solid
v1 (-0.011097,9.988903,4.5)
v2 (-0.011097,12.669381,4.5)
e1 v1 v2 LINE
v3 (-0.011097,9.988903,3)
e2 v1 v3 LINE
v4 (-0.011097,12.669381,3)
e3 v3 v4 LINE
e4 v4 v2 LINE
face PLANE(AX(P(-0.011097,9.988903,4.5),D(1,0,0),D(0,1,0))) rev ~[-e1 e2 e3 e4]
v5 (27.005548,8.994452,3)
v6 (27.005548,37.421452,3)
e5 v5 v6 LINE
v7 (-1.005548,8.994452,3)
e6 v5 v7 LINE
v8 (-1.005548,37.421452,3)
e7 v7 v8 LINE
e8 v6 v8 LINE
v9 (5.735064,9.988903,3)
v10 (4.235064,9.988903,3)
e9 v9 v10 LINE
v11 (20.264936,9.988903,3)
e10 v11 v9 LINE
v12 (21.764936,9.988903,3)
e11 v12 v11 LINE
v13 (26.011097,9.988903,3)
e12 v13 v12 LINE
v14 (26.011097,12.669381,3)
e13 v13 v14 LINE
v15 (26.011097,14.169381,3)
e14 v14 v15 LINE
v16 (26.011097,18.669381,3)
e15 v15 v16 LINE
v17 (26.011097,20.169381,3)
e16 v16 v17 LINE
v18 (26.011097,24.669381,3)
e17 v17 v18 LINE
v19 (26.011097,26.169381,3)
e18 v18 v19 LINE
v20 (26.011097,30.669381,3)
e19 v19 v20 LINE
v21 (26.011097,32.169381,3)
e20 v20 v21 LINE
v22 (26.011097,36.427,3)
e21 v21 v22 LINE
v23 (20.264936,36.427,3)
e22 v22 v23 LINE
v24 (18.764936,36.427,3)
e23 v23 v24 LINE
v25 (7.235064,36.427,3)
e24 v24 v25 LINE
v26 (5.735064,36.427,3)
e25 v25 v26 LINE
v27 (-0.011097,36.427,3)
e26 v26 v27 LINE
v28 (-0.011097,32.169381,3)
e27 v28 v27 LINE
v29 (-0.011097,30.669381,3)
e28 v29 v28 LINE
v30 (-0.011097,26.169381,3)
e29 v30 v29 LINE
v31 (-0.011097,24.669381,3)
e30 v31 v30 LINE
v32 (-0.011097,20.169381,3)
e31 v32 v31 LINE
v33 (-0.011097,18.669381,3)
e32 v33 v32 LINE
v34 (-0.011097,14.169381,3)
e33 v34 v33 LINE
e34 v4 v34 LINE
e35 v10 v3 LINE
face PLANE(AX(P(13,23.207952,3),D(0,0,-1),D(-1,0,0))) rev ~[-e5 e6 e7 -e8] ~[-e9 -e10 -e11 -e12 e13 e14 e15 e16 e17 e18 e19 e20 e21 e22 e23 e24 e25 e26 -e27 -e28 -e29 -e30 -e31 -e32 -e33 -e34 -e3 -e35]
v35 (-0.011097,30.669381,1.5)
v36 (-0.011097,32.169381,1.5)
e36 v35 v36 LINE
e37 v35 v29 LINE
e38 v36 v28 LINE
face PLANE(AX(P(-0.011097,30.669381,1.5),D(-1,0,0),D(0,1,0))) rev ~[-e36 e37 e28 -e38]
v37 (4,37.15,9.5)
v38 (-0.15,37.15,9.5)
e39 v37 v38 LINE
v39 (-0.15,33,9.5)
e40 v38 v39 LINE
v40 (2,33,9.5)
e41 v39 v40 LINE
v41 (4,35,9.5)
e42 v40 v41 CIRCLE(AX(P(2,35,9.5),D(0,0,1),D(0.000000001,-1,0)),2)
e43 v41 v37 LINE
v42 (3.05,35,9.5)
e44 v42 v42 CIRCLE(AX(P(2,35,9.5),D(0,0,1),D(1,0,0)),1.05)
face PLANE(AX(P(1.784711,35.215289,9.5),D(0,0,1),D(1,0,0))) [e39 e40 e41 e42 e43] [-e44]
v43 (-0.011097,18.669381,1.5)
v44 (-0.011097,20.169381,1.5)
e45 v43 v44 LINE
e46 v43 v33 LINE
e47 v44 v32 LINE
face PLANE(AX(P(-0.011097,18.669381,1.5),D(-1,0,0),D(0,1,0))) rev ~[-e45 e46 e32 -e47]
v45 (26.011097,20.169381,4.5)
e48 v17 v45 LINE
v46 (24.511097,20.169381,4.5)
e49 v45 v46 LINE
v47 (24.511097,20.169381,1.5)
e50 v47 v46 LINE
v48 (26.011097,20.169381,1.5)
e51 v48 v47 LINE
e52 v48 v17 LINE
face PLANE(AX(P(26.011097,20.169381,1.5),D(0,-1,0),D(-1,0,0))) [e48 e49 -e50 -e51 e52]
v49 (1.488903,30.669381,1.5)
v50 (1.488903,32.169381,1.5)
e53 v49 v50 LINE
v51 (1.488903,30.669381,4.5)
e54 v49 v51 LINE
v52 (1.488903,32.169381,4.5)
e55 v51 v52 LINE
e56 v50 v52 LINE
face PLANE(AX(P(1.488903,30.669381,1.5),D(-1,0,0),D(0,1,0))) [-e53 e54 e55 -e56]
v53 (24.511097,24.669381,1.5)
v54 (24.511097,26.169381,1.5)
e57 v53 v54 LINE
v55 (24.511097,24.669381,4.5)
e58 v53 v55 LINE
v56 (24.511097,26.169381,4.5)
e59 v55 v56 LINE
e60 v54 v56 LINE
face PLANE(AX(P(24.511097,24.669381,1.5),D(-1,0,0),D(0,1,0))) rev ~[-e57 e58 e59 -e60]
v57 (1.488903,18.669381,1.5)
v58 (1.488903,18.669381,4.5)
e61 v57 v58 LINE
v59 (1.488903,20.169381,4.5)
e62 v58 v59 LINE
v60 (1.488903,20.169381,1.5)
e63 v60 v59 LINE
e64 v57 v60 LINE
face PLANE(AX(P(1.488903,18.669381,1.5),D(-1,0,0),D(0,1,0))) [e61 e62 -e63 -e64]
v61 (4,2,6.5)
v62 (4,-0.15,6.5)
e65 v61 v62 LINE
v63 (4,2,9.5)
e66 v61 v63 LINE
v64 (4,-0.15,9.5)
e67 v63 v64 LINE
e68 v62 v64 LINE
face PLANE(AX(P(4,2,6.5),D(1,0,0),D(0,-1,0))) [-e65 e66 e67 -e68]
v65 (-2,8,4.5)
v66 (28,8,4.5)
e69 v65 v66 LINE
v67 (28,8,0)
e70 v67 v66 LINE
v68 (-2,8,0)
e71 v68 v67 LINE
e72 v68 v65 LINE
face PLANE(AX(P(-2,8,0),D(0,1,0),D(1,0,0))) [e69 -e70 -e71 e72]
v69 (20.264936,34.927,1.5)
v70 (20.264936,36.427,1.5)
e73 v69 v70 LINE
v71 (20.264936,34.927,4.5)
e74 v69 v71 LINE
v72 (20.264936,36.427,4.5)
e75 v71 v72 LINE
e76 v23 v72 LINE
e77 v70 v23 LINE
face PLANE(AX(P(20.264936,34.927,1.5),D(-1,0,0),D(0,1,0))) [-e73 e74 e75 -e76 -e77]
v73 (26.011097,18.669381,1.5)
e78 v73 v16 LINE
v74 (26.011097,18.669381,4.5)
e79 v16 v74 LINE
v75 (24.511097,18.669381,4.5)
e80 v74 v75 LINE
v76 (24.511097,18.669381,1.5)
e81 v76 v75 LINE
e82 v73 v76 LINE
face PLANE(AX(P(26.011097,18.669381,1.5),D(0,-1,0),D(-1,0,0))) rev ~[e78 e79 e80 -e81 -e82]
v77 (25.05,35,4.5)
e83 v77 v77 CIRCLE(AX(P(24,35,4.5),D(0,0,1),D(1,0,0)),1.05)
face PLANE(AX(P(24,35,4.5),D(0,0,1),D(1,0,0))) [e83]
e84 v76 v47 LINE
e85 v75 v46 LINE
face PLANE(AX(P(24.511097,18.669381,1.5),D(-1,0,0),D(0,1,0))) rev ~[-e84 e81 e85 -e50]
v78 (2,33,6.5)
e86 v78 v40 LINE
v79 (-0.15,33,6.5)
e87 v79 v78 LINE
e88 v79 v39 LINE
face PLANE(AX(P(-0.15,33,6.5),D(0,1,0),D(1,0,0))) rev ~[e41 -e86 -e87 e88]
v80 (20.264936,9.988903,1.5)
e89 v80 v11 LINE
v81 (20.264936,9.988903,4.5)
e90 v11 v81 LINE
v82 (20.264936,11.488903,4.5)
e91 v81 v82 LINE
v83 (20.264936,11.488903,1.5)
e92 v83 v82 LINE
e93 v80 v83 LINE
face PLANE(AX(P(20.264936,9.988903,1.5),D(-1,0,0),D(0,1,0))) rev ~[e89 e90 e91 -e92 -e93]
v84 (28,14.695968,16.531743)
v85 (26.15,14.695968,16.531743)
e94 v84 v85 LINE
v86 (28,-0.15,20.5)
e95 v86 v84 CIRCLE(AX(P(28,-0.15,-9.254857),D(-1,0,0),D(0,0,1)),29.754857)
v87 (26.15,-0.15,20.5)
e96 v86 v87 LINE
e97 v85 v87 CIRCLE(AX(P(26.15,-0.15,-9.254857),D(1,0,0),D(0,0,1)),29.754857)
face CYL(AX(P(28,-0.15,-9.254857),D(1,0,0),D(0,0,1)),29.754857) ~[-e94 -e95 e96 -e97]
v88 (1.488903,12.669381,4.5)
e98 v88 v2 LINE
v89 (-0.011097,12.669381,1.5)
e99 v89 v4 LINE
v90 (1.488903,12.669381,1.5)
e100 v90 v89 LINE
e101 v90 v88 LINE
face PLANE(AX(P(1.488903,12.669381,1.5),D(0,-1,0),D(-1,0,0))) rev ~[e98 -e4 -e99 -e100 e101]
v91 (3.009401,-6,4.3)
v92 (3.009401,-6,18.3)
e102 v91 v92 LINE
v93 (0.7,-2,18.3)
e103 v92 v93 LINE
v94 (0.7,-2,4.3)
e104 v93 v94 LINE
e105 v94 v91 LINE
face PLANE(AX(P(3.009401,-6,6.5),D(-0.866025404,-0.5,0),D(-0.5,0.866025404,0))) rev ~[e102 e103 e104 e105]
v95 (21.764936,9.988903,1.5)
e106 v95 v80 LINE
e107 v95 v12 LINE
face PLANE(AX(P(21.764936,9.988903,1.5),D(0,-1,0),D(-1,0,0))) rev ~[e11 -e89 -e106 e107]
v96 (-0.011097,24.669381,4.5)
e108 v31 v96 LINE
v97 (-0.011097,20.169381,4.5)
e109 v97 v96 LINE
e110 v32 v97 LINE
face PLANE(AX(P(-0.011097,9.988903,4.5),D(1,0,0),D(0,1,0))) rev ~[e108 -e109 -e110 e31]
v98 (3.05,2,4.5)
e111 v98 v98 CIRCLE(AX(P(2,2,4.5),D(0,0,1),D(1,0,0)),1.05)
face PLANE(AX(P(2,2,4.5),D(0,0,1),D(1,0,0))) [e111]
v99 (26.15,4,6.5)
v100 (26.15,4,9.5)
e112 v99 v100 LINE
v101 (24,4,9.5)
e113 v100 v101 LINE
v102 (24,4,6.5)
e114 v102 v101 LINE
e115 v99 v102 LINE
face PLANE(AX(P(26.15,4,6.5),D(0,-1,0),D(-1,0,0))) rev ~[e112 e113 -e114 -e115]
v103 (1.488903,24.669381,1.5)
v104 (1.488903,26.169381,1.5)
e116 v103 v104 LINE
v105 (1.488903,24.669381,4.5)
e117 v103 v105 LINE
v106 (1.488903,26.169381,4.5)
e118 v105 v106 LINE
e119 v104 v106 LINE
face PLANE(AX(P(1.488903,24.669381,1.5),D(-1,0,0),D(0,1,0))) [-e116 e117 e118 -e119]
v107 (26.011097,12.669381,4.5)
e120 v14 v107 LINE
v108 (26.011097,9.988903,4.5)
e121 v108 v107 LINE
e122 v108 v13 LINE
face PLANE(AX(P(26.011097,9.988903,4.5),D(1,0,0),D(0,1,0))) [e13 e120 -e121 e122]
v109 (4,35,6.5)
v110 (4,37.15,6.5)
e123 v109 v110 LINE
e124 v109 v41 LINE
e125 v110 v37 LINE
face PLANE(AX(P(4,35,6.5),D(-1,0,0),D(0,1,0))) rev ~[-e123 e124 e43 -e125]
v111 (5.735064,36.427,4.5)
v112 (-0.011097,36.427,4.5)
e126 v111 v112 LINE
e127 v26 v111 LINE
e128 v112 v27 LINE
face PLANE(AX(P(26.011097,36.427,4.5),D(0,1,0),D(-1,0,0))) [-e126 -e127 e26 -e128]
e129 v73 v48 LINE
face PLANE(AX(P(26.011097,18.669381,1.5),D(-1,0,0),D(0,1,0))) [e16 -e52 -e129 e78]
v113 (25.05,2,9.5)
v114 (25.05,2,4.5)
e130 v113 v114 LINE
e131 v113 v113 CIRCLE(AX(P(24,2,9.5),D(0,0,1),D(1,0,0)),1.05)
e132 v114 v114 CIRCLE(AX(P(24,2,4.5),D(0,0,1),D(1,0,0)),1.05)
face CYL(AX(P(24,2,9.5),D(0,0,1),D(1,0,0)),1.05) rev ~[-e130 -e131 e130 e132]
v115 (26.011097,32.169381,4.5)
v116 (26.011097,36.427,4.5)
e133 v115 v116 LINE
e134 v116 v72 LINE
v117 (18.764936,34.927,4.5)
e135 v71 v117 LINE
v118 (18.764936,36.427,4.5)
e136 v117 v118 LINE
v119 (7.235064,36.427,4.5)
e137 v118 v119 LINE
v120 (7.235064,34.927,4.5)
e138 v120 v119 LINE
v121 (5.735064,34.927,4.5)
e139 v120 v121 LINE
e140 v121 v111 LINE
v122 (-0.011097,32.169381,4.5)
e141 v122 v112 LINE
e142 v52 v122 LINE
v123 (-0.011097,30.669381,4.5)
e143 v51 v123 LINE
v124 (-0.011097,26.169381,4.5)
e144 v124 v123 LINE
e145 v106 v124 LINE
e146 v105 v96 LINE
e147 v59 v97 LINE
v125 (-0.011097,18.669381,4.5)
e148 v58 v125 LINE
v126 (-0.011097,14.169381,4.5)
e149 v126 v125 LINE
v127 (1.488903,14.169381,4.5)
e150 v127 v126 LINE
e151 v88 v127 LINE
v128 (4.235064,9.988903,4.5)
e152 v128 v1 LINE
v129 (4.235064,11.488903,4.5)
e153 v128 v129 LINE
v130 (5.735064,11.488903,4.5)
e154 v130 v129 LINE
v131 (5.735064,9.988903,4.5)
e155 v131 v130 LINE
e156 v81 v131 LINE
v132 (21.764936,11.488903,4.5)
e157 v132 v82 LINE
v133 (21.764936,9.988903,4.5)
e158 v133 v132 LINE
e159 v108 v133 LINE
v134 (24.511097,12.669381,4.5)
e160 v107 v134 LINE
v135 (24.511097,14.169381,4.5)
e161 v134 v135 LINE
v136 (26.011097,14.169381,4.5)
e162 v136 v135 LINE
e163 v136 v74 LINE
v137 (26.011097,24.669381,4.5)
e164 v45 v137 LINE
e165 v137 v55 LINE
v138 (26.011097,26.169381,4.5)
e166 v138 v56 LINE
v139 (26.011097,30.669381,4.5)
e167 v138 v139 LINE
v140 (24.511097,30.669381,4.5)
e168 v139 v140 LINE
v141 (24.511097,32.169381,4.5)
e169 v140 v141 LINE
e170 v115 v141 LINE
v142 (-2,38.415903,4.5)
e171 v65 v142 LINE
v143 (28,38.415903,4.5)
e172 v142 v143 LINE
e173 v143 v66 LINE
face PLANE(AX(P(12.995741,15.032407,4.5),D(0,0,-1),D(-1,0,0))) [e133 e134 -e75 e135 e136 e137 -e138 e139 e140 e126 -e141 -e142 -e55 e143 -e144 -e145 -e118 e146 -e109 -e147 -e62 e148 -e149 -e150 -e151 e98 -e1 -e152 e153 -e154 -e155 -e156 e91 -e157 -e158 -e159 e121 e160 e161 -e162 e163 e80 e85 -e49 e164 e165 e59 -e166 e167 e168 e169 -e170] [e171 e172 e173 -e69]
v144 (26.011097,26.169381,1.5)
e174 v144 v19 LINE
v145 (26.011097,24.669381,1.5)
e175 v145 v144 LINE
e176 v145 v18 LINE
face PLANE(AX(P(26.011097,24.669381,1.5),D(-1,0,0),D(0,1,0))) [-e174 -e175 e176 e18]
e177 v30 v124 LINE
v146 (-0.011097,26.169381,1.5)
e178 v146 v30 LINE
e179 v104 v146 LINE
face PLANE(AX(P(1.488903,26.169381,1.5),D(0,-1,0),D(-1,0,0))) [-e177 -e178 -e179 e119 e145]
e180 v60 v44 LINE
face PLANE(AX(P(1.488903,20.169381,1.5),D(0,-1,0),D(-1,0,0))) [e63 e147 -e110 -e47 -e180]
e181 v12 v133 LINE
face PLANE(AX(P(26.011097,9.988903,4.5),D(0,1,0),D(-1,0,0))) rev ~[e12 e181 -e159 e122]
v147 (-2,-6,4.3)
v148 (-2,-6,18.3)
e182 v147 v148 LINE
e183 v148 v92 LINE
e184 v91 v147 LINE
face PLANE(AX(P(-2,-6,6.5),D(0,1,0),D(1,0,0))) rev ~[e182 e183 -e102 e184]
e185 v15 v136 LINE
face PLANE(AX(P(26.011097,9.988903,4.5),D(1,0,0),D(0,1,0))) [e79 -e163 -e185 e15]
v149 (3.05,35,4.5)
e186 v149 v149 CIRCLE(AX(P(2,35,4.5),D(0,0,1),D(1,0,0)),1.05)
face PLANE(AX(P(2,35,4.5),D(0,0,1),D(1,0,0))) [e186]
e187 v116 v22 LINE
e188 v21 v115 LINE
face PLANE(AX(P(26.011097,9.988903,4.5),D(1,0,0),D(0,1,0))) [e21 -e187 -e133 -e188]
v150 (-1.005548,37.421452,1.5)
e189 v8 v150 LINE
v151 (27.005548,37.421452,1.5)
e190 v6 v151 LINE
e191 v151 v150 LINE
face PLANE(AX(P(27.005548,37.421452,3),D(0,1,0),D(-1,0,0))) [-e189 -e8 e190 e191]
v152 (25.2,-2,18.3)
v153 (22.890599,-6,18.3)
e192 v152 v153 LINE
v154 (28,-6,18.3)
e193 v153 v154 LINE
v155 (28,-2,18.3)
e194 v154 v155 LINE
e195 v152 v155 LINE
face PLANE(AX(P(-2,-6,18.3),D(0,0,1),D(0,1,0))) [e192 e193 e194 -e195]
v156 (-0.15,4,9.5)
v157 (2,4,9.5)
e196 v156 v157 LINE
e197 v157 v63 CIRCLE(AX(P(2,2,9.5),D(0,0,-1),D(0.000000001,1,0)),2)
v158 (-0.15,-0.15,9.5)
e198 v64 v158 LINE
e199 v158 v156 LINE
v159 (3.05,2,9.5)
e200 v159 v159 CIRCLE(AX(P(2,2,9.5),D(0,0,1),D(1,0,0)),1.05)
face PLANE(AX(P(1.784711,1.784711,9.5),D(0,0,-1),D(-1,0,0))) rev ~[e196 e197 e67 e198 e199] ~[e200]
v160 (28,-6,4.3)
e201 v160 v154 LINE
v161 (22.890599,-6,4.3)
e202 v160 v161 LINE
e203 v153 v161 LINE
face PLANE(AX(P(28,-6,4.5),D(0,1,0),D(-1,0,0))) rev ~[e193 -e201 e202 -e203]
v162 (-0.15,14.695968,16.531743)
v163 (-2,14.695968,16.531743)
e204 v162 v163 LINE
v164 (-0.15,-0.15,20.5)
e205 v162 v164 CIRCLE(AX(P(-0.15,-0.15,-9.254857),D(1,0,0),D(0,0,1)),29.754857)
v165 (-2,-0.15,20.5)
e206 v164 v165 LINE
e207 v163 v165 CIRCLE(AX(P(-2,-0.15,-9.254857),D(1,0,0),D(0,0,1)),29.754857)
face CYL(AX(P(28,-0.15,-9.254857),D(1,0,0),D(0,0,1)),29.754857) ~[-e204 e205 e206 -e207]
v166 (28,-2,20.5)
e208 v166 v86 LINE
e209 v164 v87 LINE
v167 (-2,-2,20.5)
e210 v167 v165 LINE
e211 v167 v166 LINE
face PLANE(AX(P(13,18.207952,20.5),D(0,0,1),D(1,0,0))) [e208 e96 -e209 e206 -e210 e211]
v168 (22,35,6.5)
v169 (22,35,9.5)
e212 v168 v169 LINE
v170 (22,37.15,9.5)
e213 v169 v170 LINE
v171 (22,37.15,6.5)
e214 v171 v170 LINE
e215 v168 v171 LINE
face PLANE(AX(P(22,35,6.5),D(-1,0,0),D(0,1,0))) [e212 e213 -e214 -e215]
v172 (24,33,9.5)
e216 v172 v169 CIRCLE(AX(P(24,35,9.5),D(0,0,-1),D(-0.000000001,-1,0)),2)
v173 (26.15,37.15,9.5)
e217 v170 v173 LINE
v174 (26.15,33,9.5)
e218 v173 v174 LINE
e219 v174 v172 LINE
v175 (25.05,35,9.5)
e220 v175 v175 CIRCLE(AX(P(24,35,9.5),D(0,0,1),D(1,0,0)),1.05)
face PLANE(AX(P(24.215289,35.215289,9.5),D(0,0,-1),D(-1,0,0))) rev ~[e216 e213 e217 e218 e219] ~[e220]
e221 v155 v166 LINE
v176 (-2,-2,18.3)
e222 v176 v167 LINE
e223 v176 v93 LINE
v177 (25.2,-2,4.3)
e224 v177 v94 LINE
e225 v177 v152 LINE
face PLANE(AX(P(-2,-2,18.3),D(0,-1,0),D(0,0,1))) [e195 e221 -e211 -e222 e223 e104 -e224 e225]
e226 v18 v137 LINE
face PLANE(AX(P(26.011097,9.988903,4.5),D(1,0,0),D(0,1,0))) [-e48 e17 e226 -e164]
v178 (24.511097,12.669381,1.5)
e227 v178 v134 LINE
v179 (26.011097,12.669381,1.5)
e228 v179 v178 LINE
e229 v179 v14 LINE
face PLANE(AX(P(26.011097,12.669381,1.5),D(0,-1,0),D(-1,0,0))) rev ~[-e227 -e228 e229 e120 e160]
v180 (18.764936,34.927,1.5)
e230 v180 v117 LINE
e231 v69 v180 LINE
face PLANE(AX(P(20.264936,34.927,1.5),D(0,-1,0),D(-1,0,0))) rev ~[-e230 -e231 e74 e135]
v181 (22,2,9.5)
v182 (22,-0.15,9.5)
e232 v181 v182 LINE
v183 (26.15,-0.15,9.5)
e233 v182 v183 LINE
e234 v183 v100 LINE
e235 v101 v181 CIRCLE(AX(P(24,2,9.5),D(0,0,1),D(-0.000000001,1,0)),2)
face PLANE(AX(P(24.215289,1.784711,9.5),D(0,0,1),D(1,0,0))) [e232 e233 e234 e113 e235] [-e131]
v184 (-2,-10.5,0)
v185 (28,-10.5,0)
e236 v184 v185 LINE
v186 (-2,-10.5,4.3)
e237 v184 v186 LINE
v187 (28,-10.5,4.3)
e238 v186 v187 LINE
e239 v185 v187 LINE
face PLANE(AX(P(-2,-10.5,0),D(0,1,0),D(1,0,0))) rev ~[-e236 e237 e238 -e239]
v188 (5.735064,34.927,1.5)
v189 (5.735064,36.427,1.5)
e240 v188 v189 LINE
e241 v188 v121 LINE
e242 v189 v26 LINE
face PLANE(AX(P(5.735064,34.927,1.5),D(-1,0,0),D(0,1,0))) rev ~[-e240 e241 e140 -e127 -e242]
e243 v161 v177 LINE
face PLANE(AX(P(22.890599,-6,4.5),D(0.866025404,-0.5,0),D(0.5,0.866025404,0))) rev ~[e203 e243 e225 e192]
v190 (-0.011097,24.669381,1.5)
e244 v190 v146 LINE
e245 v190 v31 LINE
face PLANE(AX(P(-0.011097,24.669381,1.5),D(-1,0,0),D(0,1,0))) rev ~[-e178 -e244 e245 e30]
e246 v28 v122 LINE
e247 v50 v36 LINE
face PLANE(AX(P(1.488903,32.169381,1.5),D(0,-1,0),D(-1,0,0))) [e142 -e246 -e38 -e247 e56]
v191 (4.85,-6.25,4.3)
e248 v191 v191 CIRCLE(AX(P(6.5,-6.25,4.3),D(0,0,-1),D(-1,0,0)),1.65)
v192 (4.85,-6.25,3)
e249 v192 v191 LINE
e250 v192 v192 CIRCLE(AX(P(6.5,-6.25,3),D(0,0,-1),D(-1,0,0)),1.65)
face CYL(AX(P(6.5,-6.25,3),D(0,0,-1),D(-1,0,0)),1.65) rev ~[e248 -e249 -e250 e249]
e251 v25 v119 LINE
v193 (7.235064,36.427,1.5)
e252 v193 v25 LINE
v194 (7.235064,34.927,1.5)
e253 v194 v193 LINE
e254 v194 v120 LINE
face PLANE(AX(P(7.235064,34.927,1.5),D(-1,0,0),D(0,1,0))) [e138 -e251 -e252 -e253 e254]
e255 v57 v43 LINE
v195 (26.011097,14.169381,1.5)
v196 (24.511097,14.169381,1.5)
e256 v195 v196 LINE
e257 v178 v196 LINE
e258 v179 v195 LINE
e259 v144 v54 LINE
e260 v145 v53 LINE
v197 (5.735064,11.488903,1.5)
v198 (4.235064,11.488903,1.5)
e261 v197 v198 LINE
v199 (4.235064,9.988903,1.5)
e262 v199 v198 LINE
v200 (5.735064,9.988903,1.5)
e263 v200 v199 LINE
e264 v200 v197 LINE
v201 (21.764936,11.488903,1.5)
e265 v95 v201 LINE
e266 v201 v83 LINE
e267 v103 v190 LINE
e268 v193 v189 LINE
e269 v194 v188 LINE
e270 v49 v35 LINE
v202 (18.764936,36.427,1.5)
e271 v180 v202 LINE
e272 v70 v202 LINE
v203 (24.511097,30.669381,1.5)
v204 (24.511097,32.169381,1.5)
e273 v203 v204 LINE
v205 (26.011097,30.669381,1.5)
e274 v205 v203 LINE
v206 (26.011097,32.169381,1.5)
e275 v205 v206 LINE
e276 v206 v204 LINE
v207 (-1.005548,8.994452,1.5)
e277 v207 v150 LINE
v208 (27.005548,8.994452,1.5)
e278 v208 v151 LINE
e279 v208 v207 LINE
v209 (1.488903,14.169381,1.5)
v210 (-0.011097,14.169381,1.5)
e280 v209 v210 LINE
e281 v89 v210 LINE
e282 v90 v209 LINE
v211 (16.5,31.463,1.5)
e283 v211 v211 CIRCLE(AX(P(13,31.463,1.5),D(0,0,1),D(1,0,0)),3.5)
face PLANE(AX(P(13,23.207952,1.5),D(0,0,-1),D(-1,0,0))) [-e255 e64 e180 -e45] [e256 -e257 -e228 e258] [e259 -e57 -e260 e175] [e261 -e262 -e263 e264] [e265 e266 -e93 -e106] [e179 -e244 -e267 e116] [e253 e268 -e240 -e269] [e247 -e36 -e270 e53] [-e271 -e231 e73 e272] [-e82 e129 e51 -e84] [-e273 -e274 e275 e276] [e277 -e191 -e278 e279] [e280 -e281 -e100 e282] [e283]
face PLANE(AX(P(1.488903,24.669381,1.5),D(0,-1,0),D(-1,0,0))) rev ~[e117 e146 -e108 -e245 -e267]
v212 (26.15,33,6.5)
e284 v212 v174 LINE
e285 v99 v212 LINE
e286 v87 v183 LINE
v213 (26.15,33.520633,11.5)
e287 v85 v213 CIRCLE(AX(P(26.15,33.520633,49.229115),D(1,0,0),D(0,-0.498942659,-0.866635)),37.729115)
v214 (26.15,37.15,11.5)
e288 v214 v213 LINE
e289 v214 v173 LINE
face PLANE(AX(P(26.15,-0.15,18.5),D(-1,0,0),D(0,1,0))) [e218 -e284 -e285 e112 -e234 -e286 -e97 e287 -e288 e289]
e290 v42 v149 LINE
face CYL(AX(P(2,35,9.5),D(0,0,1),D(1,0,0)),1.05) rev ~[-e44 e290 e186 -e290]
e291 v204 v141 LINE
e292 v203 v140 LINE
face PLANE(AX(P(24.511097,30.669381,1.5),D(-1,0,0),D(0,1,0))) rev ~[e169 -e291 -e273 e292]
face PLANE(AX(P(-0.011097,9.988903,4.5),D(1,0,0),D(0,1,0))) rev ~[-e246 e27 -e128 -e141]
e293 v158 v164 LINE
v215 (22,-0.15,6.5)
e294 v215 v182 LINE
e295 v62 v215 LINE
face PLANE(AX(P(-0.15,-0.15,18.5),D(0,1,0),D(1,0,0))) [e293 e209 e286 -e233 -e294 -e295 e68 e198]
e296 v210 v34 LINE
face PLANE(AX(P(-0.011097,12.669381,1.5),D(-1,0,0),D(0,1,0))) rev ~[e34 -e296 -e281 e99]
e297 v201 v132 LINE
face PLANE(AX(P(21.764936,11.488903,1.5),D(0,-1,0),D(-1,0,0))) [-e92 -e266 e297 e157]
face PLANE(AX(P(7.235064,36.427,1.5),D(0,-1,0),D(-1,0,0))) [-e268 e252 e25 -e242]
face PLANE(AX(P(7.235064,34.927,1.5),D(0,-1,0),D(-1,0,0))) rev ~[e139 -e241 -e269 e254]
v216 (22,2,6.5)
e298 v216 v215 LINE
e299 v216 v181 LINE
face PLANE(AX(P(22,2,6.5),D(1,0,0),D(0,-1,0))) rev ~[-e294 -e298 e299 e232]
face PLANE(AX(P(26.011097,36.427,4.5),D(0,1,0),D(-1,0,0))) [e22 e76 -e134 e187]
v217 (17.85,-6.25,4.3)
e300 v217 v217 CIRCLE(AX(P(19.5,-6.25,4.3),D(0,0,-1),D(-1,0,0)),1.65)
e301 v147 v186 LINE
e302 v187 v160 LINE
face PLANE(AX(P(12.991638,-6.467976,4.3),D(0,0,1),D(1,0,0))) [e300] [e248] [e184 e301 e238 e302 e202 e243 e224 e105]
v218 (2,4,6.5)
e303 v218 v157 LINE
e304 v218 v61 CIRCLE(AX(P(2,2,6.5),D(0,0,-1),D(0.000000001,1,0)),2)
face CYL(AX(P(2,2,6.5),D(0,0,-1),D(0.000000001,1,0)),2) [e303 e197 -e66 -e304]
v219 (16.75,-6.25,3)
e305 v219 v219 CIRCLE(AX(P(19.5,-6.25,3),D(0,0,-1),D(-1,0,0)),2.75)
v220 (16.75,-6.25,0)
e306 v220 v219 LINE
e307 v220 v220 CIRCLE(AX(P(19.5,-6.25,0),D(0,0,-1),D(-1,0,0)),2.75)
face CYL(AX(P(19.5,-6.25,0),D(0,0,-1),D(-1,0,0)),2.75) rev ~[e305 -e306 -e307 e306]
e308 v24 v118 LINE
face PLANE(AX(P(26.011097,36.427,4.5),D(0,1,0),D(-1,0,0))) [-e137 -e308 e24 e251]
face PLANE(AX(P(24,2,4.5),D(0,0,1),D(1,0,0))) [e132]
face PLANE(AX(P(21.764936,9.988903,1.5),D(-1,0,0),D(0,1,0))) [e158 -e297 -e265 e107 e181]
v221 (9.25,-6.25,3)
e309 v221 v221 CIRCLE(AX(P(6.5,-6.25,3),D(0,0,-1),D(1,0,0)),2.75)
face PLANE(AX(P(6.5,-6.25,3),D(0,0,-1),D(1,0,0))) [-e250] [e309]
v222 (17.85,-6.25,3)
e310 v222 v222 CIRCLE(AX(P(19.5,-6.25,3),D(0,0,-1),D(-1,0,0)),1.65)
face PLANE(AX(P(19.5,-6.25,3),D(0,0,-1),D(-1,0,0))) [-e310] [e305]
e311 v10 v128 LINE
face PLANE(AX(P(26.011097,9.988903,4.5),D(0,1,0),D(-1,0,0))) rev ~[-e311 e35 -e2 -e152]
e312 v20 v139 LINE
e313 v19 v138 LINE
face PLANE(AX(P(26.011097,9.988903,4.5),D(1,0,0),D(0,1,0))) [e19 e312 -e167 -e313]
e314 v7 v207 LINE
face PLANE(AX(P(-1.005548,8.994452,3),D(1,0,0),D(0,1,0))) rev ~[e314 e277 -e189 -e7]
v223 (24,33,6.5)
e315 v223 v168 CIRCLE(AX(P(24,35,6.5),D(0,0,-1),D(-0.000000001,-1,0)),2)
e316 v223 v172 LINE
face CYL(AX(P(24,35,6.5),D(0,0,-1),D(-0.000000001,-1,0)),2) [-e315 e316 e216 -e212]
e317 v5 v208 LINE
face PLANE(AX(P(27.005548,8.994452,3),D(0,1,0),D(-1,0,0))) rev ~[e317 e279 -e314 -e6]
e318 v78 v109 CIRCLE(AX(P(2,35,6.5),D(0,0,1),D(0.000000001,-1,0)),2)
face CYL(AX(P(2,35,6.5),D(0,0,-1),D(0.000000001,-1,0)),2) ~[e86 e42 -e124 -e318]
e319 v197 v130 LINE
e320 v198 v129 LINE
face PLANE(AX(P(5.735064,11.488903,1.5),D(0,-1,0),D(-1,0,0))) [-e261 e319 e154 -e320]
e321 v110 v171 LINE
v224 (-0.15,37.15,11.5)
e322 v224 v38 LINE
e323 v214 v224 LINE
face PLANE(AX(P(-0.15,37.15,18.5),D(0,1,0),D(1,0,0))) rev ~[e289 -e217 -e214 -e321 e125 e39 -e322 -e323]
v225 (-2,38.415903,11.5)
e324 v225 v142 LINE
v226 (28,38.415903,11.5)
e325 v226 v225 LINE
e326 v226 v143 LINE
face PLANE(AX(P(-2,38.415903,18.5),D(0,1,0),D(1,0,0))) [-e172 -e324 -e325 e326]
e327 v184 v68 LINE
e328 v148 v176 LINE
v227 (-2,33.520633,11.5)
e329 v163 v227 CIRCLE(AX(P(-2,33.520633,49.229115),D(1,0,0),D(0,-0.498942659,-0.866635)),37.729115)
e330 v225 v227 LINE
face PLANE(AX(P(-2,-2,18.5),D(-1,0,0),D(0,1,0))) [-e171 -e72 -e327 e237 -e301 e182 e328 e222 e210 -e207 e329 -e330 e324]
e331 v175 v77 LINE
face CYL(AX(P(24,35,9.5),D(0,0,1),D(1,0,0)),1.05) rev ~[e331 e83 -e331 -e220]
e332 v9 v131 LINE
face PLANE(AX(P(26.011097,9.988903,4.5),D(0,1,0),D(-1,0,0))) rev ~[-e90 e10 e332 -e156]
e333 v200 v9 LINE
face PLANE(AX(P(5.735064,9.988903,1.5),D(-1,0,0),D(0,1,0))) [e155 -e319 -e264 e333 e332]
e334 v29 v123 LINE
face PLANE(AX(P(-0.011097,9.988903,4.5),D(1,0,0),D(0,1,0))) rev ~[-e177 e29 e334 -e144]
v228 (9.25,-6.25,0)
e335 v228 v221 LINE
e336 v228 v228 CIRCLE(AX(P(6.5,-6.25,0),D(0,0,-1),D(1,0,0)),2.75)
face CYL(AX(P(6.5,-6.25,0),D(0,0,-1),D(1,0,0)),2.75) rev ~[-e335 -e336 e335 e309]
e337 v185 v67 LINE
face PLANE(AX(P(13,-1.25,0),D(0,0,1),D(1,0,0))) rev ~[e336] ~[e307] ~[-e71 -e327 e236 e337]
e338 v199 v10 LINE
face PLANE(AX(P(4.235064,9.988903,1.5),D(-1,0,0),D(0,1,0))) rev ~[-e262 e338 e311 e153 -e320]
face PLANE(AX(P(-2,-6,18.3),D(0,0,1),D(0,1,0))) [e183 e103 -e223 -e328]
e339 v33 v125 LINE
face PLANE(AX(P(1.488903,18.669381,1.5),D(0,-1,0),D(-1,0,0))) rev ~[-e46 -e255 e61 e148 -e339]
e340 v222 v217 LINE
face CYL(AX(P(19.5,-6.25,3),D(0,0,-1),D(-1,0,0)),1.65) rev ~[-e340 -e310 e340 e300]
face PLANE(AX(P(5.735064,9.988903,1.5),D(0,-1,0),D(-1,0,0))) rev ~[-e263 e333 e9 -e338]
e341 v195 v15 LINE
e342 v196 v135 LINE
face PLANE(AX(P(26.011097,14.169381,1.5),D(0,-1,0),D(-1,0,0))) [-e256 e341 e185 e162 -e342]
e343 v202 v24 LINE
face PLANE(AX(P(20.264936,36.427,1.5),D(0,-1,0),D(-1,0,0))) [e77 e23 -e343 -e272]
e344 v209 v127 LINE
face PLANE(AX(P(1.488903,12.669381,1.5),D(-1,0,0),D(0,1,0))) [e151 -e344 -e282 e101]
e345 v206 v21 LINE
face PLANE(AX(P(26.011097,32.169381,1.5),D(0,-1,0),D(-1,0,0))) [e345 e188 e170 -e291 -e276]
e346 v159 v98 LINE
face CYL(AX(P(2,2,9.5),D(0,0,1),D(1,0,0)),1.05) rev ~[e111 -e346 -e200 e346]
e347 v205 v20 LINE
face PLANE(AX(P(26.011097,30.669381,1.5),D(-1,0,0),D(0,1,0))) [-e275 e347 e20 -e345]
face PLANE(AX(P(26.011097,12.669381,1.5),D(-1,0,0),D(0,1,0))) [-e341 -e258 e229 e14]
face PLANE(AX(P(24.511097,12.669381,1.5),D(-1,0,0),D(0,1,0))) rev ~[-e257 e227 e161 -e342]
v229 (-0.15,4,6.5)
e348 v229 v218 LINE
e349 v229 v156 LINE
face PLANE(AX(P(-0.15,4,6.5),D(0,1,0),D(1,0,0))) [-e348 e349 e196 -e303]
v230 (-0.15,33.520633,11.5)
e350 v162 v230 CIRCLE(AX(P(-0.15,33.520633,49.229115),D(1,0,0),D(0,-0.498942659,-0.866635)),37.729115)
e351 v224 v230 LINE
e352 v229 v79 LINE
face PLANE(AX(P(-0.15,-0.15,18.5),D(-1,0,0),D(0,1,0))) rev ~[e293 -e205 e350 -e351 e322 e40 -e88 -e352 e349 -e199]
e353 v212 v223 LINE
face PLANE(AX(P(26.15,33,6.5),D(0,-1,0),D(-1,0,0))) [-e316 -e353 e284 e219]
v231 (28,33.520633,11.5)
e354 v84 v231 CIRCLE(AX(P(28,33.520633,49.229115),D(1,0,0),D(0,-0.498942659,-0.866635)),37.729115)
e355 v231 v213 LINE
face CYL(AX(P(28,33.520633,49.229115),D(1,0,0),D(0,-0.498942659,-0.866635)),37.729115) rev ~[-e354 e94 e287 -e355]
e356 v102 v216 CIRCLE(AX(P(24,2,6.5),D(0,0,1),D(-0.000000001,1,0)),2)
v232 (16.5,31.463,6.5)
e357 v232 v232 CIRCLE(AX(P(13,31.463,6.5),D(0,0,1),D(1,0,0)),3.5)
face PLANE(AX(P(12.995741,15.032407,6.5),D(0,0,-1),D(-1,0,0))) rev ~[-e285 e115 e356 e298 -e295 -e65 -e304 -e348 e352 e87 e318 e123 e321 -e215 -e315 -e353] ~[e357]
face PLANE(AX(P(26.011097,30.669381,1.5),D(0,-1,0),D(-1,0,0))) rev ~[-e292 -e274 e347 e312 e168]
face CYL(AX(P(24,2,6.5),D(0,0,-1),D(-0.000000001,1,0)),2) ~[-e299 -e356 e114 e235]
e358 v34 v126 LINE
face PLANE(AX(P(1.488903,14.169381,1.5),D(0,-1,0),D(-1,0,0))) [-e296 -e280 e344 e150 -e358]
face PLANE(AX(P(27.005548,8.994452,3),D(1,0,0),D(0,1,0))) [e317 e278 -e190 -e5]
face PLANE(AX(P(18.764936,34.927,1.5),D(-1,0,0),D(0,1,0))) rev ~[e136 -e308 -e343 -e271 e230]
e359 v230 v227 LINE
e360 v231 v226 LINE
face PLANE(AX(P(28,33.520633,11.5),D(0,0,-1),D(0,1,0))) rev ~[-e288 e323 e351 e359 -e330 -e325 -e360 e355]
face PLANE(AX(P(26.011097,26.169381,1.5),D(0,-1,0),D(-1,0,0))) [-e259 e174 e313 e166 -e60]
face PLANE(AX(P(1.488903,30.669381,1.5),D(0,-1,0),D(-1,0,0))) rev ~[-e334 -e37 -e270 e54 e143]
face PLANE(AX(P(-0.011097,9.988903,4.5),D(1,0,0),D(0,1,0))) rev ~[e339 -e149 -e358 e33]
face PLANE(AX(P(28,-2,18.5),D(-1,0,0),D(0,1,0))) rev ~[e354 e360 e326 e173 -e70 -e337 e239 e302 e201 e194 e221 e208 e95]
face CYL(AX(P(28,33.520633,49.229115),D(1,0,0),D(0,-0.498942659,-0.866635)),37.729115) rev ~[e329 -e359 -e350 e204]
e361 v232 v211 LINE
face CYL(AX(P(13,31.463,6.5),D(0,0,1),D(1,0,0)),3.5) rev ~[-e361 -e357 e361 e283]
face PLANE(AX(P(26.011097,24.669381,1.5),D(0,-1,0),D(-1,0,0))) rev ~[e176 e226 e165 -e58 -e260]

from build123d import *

# Parameters (mm, degrees)
SKETCH2_W             = 30
SKETCH2_H             = 18.5
BOSS_EXTRUDE1_DEPTH   = 4.5
BOSS_EXTRUDE2_DEPTH   = 2
SKETCH4_W             = 26.3
SKETCH4_H             = 37.3
BOSS_EXTRUDE3_DEPTH   = 12
SKETCH5_W             = 30
SKETCH5_H             = 40.415903306
SKETCH5_W_2           = 26.3
SKETCH5_H_2           = 37.3
BOSS_EXTRUDE4_DEPTH   = 2
CUT_EXTRUDE1_DEPTH    = 53.877515324
SKETCH7_R             = 2.75
CUT_EXTRUDE2_DEPTH    = 3
SKETCH8_R             = 1.65
CUT_EXTRUDE3_DEPTH    = 51.656012741
SKETCH9_W             = 0.2
SKETCH9_H             = 4
TOLERANCE_CUT1_DEPTH  = 53.877515324
TOLERANCE_CUT2_DEPTH  = 0.2
BOSS_EXTRUDE5_DEPTH   = 3
SKETCH12_W            = 26.022193388
SKETCH12_H            = 26.438096694
BOSS_EXTRUDE6_DEPTH   = 1.5
SKETCH13_W            = 28.011096694
SKETCH13_H            = 28.427
BOSS_EXTRUDE7_DEPTH   = 1.5
SKETCH14_R            = 3.5
CUT_EXTRUDE6_DEPTH    = 50.555843518
SKETCH15_R            = 1.05
PCB_MOUNT_HOLES_DEPTH = 5
SKETCH16_W            = 1.5
SKETCH16_H            = 1.5
CUT_EXTRUDE8_DEPTH    = 3


with BuildPart() as part:
    # Sketch2 → Boss-Extrude1 (new body)
    with BuildSketch(Plane.XY):
        with Locations((13, -1.25)):
            Rectangle(SKETCH2_W, SKETCH2_H)
    extrude(amount=BOSS_EXTRUDE1_DEPTH)

    # Sketch3 → Boss-Extrude2 (add)
    with BuildSketch(Plane.XY.offset(4.5)):
        Polygon((-2, 38.415903306), (28, 38.415903306), (28, -6), (22.890598923, -6), (25.2, -2), (0.7, -2), (3.009401077, -6), (-2, -6), align=None)
    extrude(amount=BOSS_EXTRUDE2_DEPTH)

    # Sketch4 → Boss-Extrude3 (add)
    with BuildSketch(Plane.XY.offset(6.5)):
        Polygon((-2, 38.415903306), (-2, -6), (3.009401077, -6), (0.7, -2), (25.2, -2), (22.890598923, -6), (28, -6), (28, 38.415903306), align=None)
        with Locations((13, 18.5)):
            Rectangle(SKETCH4_W, SKETCH4_H, mode=Mode.SUBTRACT)
    extrude(amount=BOSS_EXTRUDE3_DEPTH)

    # Sketch5 → Boss-Extrude4 (add)
    with BuildSketch(Plane.XY.offset(18.5)):
        with Locations((13, 18.207951653)):
            Rectangle(SKETCH5_W, SKETCH5_H)
        with Locations((13, 18.5)):
            Rectangle(SKETCH5_W_2, SKETCH5_H_2, mode=Mode.SUBTRACT)
    extrude(amount=BOSS_EXTRUDE4_DEPTH)

    # Sketch6 → Cut-Extrude1 (cut, through all)
    with BuildSketch(Plane(origin=(28, 0, 0), x_dir=(0, 0, -1), z_dir=(1, 0, 0))):
        with BuildLine():
            Line((-11.5, 38.415903306), (-29.920257518, 38.415903306))
            Line((-29.920257518, 38.415903306), (-29.920257518, -0.15))
            Line((-29.920257518, -0.15), (-20.5, -0.15))
            ThreePointArc((-20.5, -0.15), (-19.490822016, 7.533583379), (-16.531743455, 14.695967606))
            ThreePointArc((-16.531743455, 14.695967606), (-12.779636198, 23.777860258), (-11.5, 33.520632668))
            Line((-11.5, 33.520632668), (-11.5, 38.415903306))
        make_face()
    extrude(amount=-CUT_EXTRUDE1_DEPTH, mode=Mode.SUBTRACT)

    # Sketch7 → Cut-Extrude2 (cut)
    with BuildSketch(Plane(origin=(0, 0, 0), x_dir=(-1, 0, 0), z_dir=(0, 0, -1))):
        with Locations((-19.5, -6.25)):
            Circle(SKETCH7_R)
        with Locations(Location((-6.5, -6.25, 0), (0, 0, 180))):
            Circle(SKETCH7_R)
    extrude(amount=-CUT_EXTRUDE2_DEPTH, mode=Mode.SUBTRACT)

    # Sketch8 → Cut-Extrude3 (cut, through all)
    with BuildSketch(Plane(origin=(0, 0, 3), x_dir=(-1, 0, 0), z_dir=(0, 0, -1))):
        with Locations((-19.5, -6.25)):
            Circle(SKETCH8_R)
        with Locations((-6.5, -6.25)):
            Circle(SKETCH8_R)
    extrude(amount=-CUT_EXTRUDE3_DEPTH, mode=Mode.SUBTRACT)

    # Sketch9 → tolerance_cut1 (cut, through all)
    with BuildSketch(Plane.ZY.offset(2)):
        with Locations((18.4, -4)):
            Rectangle(SKETCH9_W, SKETCH9_H)
    extrude(amount=-TOLERANCE_CUT1_DEPTH, mode=Mode.SUBTRACT)

    # Sketch10 → tolerance_cut2 (cut)
    with BuildSketch(Plane.XY.offset(4.5)):
        Polygon((28, -6), (22.890598923, -6), (25.2, -2), (0.7, -2), (3.009401077, -6), (-2, -6), (-2, -10.5), (28, -10.5), align=None)
    extrude(amount=-TOLERANCE_CUT2_DEPTH, mode=Mode.SUBTRACT)

    # Sketch11 → Boss-Extrude5 (add)
    with BuildSketch(Plane.XY.offset(6.5)):
        with BuildLine():
            Line((4, 35), (4, 37.15))
            Line((4, 37.15), (-0.15, 37.15))
            Line((-0.15, 37.15), (-0.15, 33))
            Line((-0.15, 33), (2, 33))
            ThreePointArc((2, 33), (3.414213562, 33.585786438), (4, 35))
        make_face()
        with BuildLine():
            Line((26.15, 33), (24, 33))
            ThreePointArc((24, 33), (22.585786438, 33.585786438), (22, 35))
            Line((22, 35), (22, 37.15))
            Line((22, 37.15), (26.15, 37.15))
            Line((26.15, 37.15), (26.15, 33))
        make_face()
        with BuildLine():
            Line((26.15, 4), (24, 4))
            ThreePointArc((24, 4), (22.585786438, 3.414213562), (22, 2))
            Line((22, 2), (22, -0.15))
            Line((22, -0.15), (26.15, -0.15))
            Line((26.15, -0.15), (26.15, 4))
        make_face()
        with BuildLine():
            Line((-0.15, 4), (2, 4))
            ThreePointArc((2, 4), (3.414213562, 3.414213562), (4, 2))
            Line((4, 2), (4, -0.15))
            Line((4, -0.15), (-0.15, -0.15))
            Line((-0.15, -0.15), (-0.15, 4))
        make_face()
    extrude(amount=BOSS_EXTRUDE5_DEPTH)

    # Sketch12 → Boss-Extrude6 (add)
    with BuildSketch(Plane(origin=(0, 0, 4.5), x_dir=(-1, 0, 0), z_dir=(0, 0, -1))):
        with Locations((-13, 23.207951653)):
            Rectangle(SKETCH12_W, SKETCH12_H)
    extrude(amount=BOSS_EXTRUDE6_DEPTH)

    # Sketch13 → Boss-Extrude7 (add)
    with BuildSketch(Plane(origin=(0, 0, 3), x_dir=(-1, 0, 0), z_dir=(0, 0, -1))):
        with Locations((-13, 23.207951653)):
            Rectangle(SKETCH13_W, SKETCH13_H)
    extrude(amount=BOSS_EXTRUDE7_DEPTH)

    # Sketch14 → Cut-Extrude6 (cut, through all)
    with BuildSketch(Plane.XY.offset(6.5)):
        with Locations((13, 31.463)):
            Circle(SKETCH14_R)
    extrude(amount=-CUT_EXTRUDE6_DEPTH, mode=Mode.SUBTRACT)

    # Sketch15 → pcb_mount_holes (cut)
    with BuildSketch(Plane.XY.offset(9.5)):
        with Locations((2, 35)):
            Circle(SKETCH15_R)
        with Locations((24, 35)):
            Circle(SKETCH15_R)
        with Locations((24, 2)):
            Circle(SKETCH15_R)
        with Locations((2, 2)):
            Circle(SKETCH15_R)
    extrude(amount=-PCB_MOUNT_HOLES_DEPTH, mode=Mode.SUBTRACT)

    # Sketch16 → Cut-Extrude8 (cut)
    with BuildSketch(Plane(origin=(0, 0, 1.5), x_dir=(-1, 0, 0), z_dir=(0, 0, -1))):
        with Locations((-25.261096694, 25.419380652)):
            Rectangle(SKETCH16_W, SKETCH16_H)
        with Locations((-25.261096694, 31.419380652)):
            Rectangle(SKETCH16_W, SKETCH16_H)
        with Locations((-25.261096694, 19.419380652)):
            Rectangle(SKETCH16_W, SKETCH16_H)
        with Locations((-25.261096694, 13.419380652)):
            Rectangle(SKETCH16_W, SKETCH16_H)
        with Locations((-21.014935628, 10.738903306)):
            Rectangle(SKETCH16_W, SKETCH16_H)
        with Locations((-19.514935628, 35.677)):
            Rectangle(SKETCH16_W, SKETCH16_H)
        with Locations((-4.985064372, 10.738903306)):
            Rectangle(SKETCH16_W, SKETCH16_H)
        with Locations((-0.738903306, 13.419380652)):
            Rectangle(SKETCH16_W, SKETCH16_H)
        with Locations((-0.738903306, 19.419380652)):
            Rectangle(SKETCH16_W, SKETCH16_H)
        with Locations((-0.738903306, 25.419380652)):
            Rectangle(SKETCH16_W, SKETCH16_H)
        with Locations((-0.738903306, 31.419380652)):
            Rectangle(SKETCH16_W, SKETCH16_H)
        with Locations((-6.485064372, 35.677)):
            Rectangle(SKETCH16_W, SKETCH16_H)
    extrude(amount=-CUT_EXTRUDE8_DEPTH, mode=Mode.SUBTRACT)


solid = part.part
